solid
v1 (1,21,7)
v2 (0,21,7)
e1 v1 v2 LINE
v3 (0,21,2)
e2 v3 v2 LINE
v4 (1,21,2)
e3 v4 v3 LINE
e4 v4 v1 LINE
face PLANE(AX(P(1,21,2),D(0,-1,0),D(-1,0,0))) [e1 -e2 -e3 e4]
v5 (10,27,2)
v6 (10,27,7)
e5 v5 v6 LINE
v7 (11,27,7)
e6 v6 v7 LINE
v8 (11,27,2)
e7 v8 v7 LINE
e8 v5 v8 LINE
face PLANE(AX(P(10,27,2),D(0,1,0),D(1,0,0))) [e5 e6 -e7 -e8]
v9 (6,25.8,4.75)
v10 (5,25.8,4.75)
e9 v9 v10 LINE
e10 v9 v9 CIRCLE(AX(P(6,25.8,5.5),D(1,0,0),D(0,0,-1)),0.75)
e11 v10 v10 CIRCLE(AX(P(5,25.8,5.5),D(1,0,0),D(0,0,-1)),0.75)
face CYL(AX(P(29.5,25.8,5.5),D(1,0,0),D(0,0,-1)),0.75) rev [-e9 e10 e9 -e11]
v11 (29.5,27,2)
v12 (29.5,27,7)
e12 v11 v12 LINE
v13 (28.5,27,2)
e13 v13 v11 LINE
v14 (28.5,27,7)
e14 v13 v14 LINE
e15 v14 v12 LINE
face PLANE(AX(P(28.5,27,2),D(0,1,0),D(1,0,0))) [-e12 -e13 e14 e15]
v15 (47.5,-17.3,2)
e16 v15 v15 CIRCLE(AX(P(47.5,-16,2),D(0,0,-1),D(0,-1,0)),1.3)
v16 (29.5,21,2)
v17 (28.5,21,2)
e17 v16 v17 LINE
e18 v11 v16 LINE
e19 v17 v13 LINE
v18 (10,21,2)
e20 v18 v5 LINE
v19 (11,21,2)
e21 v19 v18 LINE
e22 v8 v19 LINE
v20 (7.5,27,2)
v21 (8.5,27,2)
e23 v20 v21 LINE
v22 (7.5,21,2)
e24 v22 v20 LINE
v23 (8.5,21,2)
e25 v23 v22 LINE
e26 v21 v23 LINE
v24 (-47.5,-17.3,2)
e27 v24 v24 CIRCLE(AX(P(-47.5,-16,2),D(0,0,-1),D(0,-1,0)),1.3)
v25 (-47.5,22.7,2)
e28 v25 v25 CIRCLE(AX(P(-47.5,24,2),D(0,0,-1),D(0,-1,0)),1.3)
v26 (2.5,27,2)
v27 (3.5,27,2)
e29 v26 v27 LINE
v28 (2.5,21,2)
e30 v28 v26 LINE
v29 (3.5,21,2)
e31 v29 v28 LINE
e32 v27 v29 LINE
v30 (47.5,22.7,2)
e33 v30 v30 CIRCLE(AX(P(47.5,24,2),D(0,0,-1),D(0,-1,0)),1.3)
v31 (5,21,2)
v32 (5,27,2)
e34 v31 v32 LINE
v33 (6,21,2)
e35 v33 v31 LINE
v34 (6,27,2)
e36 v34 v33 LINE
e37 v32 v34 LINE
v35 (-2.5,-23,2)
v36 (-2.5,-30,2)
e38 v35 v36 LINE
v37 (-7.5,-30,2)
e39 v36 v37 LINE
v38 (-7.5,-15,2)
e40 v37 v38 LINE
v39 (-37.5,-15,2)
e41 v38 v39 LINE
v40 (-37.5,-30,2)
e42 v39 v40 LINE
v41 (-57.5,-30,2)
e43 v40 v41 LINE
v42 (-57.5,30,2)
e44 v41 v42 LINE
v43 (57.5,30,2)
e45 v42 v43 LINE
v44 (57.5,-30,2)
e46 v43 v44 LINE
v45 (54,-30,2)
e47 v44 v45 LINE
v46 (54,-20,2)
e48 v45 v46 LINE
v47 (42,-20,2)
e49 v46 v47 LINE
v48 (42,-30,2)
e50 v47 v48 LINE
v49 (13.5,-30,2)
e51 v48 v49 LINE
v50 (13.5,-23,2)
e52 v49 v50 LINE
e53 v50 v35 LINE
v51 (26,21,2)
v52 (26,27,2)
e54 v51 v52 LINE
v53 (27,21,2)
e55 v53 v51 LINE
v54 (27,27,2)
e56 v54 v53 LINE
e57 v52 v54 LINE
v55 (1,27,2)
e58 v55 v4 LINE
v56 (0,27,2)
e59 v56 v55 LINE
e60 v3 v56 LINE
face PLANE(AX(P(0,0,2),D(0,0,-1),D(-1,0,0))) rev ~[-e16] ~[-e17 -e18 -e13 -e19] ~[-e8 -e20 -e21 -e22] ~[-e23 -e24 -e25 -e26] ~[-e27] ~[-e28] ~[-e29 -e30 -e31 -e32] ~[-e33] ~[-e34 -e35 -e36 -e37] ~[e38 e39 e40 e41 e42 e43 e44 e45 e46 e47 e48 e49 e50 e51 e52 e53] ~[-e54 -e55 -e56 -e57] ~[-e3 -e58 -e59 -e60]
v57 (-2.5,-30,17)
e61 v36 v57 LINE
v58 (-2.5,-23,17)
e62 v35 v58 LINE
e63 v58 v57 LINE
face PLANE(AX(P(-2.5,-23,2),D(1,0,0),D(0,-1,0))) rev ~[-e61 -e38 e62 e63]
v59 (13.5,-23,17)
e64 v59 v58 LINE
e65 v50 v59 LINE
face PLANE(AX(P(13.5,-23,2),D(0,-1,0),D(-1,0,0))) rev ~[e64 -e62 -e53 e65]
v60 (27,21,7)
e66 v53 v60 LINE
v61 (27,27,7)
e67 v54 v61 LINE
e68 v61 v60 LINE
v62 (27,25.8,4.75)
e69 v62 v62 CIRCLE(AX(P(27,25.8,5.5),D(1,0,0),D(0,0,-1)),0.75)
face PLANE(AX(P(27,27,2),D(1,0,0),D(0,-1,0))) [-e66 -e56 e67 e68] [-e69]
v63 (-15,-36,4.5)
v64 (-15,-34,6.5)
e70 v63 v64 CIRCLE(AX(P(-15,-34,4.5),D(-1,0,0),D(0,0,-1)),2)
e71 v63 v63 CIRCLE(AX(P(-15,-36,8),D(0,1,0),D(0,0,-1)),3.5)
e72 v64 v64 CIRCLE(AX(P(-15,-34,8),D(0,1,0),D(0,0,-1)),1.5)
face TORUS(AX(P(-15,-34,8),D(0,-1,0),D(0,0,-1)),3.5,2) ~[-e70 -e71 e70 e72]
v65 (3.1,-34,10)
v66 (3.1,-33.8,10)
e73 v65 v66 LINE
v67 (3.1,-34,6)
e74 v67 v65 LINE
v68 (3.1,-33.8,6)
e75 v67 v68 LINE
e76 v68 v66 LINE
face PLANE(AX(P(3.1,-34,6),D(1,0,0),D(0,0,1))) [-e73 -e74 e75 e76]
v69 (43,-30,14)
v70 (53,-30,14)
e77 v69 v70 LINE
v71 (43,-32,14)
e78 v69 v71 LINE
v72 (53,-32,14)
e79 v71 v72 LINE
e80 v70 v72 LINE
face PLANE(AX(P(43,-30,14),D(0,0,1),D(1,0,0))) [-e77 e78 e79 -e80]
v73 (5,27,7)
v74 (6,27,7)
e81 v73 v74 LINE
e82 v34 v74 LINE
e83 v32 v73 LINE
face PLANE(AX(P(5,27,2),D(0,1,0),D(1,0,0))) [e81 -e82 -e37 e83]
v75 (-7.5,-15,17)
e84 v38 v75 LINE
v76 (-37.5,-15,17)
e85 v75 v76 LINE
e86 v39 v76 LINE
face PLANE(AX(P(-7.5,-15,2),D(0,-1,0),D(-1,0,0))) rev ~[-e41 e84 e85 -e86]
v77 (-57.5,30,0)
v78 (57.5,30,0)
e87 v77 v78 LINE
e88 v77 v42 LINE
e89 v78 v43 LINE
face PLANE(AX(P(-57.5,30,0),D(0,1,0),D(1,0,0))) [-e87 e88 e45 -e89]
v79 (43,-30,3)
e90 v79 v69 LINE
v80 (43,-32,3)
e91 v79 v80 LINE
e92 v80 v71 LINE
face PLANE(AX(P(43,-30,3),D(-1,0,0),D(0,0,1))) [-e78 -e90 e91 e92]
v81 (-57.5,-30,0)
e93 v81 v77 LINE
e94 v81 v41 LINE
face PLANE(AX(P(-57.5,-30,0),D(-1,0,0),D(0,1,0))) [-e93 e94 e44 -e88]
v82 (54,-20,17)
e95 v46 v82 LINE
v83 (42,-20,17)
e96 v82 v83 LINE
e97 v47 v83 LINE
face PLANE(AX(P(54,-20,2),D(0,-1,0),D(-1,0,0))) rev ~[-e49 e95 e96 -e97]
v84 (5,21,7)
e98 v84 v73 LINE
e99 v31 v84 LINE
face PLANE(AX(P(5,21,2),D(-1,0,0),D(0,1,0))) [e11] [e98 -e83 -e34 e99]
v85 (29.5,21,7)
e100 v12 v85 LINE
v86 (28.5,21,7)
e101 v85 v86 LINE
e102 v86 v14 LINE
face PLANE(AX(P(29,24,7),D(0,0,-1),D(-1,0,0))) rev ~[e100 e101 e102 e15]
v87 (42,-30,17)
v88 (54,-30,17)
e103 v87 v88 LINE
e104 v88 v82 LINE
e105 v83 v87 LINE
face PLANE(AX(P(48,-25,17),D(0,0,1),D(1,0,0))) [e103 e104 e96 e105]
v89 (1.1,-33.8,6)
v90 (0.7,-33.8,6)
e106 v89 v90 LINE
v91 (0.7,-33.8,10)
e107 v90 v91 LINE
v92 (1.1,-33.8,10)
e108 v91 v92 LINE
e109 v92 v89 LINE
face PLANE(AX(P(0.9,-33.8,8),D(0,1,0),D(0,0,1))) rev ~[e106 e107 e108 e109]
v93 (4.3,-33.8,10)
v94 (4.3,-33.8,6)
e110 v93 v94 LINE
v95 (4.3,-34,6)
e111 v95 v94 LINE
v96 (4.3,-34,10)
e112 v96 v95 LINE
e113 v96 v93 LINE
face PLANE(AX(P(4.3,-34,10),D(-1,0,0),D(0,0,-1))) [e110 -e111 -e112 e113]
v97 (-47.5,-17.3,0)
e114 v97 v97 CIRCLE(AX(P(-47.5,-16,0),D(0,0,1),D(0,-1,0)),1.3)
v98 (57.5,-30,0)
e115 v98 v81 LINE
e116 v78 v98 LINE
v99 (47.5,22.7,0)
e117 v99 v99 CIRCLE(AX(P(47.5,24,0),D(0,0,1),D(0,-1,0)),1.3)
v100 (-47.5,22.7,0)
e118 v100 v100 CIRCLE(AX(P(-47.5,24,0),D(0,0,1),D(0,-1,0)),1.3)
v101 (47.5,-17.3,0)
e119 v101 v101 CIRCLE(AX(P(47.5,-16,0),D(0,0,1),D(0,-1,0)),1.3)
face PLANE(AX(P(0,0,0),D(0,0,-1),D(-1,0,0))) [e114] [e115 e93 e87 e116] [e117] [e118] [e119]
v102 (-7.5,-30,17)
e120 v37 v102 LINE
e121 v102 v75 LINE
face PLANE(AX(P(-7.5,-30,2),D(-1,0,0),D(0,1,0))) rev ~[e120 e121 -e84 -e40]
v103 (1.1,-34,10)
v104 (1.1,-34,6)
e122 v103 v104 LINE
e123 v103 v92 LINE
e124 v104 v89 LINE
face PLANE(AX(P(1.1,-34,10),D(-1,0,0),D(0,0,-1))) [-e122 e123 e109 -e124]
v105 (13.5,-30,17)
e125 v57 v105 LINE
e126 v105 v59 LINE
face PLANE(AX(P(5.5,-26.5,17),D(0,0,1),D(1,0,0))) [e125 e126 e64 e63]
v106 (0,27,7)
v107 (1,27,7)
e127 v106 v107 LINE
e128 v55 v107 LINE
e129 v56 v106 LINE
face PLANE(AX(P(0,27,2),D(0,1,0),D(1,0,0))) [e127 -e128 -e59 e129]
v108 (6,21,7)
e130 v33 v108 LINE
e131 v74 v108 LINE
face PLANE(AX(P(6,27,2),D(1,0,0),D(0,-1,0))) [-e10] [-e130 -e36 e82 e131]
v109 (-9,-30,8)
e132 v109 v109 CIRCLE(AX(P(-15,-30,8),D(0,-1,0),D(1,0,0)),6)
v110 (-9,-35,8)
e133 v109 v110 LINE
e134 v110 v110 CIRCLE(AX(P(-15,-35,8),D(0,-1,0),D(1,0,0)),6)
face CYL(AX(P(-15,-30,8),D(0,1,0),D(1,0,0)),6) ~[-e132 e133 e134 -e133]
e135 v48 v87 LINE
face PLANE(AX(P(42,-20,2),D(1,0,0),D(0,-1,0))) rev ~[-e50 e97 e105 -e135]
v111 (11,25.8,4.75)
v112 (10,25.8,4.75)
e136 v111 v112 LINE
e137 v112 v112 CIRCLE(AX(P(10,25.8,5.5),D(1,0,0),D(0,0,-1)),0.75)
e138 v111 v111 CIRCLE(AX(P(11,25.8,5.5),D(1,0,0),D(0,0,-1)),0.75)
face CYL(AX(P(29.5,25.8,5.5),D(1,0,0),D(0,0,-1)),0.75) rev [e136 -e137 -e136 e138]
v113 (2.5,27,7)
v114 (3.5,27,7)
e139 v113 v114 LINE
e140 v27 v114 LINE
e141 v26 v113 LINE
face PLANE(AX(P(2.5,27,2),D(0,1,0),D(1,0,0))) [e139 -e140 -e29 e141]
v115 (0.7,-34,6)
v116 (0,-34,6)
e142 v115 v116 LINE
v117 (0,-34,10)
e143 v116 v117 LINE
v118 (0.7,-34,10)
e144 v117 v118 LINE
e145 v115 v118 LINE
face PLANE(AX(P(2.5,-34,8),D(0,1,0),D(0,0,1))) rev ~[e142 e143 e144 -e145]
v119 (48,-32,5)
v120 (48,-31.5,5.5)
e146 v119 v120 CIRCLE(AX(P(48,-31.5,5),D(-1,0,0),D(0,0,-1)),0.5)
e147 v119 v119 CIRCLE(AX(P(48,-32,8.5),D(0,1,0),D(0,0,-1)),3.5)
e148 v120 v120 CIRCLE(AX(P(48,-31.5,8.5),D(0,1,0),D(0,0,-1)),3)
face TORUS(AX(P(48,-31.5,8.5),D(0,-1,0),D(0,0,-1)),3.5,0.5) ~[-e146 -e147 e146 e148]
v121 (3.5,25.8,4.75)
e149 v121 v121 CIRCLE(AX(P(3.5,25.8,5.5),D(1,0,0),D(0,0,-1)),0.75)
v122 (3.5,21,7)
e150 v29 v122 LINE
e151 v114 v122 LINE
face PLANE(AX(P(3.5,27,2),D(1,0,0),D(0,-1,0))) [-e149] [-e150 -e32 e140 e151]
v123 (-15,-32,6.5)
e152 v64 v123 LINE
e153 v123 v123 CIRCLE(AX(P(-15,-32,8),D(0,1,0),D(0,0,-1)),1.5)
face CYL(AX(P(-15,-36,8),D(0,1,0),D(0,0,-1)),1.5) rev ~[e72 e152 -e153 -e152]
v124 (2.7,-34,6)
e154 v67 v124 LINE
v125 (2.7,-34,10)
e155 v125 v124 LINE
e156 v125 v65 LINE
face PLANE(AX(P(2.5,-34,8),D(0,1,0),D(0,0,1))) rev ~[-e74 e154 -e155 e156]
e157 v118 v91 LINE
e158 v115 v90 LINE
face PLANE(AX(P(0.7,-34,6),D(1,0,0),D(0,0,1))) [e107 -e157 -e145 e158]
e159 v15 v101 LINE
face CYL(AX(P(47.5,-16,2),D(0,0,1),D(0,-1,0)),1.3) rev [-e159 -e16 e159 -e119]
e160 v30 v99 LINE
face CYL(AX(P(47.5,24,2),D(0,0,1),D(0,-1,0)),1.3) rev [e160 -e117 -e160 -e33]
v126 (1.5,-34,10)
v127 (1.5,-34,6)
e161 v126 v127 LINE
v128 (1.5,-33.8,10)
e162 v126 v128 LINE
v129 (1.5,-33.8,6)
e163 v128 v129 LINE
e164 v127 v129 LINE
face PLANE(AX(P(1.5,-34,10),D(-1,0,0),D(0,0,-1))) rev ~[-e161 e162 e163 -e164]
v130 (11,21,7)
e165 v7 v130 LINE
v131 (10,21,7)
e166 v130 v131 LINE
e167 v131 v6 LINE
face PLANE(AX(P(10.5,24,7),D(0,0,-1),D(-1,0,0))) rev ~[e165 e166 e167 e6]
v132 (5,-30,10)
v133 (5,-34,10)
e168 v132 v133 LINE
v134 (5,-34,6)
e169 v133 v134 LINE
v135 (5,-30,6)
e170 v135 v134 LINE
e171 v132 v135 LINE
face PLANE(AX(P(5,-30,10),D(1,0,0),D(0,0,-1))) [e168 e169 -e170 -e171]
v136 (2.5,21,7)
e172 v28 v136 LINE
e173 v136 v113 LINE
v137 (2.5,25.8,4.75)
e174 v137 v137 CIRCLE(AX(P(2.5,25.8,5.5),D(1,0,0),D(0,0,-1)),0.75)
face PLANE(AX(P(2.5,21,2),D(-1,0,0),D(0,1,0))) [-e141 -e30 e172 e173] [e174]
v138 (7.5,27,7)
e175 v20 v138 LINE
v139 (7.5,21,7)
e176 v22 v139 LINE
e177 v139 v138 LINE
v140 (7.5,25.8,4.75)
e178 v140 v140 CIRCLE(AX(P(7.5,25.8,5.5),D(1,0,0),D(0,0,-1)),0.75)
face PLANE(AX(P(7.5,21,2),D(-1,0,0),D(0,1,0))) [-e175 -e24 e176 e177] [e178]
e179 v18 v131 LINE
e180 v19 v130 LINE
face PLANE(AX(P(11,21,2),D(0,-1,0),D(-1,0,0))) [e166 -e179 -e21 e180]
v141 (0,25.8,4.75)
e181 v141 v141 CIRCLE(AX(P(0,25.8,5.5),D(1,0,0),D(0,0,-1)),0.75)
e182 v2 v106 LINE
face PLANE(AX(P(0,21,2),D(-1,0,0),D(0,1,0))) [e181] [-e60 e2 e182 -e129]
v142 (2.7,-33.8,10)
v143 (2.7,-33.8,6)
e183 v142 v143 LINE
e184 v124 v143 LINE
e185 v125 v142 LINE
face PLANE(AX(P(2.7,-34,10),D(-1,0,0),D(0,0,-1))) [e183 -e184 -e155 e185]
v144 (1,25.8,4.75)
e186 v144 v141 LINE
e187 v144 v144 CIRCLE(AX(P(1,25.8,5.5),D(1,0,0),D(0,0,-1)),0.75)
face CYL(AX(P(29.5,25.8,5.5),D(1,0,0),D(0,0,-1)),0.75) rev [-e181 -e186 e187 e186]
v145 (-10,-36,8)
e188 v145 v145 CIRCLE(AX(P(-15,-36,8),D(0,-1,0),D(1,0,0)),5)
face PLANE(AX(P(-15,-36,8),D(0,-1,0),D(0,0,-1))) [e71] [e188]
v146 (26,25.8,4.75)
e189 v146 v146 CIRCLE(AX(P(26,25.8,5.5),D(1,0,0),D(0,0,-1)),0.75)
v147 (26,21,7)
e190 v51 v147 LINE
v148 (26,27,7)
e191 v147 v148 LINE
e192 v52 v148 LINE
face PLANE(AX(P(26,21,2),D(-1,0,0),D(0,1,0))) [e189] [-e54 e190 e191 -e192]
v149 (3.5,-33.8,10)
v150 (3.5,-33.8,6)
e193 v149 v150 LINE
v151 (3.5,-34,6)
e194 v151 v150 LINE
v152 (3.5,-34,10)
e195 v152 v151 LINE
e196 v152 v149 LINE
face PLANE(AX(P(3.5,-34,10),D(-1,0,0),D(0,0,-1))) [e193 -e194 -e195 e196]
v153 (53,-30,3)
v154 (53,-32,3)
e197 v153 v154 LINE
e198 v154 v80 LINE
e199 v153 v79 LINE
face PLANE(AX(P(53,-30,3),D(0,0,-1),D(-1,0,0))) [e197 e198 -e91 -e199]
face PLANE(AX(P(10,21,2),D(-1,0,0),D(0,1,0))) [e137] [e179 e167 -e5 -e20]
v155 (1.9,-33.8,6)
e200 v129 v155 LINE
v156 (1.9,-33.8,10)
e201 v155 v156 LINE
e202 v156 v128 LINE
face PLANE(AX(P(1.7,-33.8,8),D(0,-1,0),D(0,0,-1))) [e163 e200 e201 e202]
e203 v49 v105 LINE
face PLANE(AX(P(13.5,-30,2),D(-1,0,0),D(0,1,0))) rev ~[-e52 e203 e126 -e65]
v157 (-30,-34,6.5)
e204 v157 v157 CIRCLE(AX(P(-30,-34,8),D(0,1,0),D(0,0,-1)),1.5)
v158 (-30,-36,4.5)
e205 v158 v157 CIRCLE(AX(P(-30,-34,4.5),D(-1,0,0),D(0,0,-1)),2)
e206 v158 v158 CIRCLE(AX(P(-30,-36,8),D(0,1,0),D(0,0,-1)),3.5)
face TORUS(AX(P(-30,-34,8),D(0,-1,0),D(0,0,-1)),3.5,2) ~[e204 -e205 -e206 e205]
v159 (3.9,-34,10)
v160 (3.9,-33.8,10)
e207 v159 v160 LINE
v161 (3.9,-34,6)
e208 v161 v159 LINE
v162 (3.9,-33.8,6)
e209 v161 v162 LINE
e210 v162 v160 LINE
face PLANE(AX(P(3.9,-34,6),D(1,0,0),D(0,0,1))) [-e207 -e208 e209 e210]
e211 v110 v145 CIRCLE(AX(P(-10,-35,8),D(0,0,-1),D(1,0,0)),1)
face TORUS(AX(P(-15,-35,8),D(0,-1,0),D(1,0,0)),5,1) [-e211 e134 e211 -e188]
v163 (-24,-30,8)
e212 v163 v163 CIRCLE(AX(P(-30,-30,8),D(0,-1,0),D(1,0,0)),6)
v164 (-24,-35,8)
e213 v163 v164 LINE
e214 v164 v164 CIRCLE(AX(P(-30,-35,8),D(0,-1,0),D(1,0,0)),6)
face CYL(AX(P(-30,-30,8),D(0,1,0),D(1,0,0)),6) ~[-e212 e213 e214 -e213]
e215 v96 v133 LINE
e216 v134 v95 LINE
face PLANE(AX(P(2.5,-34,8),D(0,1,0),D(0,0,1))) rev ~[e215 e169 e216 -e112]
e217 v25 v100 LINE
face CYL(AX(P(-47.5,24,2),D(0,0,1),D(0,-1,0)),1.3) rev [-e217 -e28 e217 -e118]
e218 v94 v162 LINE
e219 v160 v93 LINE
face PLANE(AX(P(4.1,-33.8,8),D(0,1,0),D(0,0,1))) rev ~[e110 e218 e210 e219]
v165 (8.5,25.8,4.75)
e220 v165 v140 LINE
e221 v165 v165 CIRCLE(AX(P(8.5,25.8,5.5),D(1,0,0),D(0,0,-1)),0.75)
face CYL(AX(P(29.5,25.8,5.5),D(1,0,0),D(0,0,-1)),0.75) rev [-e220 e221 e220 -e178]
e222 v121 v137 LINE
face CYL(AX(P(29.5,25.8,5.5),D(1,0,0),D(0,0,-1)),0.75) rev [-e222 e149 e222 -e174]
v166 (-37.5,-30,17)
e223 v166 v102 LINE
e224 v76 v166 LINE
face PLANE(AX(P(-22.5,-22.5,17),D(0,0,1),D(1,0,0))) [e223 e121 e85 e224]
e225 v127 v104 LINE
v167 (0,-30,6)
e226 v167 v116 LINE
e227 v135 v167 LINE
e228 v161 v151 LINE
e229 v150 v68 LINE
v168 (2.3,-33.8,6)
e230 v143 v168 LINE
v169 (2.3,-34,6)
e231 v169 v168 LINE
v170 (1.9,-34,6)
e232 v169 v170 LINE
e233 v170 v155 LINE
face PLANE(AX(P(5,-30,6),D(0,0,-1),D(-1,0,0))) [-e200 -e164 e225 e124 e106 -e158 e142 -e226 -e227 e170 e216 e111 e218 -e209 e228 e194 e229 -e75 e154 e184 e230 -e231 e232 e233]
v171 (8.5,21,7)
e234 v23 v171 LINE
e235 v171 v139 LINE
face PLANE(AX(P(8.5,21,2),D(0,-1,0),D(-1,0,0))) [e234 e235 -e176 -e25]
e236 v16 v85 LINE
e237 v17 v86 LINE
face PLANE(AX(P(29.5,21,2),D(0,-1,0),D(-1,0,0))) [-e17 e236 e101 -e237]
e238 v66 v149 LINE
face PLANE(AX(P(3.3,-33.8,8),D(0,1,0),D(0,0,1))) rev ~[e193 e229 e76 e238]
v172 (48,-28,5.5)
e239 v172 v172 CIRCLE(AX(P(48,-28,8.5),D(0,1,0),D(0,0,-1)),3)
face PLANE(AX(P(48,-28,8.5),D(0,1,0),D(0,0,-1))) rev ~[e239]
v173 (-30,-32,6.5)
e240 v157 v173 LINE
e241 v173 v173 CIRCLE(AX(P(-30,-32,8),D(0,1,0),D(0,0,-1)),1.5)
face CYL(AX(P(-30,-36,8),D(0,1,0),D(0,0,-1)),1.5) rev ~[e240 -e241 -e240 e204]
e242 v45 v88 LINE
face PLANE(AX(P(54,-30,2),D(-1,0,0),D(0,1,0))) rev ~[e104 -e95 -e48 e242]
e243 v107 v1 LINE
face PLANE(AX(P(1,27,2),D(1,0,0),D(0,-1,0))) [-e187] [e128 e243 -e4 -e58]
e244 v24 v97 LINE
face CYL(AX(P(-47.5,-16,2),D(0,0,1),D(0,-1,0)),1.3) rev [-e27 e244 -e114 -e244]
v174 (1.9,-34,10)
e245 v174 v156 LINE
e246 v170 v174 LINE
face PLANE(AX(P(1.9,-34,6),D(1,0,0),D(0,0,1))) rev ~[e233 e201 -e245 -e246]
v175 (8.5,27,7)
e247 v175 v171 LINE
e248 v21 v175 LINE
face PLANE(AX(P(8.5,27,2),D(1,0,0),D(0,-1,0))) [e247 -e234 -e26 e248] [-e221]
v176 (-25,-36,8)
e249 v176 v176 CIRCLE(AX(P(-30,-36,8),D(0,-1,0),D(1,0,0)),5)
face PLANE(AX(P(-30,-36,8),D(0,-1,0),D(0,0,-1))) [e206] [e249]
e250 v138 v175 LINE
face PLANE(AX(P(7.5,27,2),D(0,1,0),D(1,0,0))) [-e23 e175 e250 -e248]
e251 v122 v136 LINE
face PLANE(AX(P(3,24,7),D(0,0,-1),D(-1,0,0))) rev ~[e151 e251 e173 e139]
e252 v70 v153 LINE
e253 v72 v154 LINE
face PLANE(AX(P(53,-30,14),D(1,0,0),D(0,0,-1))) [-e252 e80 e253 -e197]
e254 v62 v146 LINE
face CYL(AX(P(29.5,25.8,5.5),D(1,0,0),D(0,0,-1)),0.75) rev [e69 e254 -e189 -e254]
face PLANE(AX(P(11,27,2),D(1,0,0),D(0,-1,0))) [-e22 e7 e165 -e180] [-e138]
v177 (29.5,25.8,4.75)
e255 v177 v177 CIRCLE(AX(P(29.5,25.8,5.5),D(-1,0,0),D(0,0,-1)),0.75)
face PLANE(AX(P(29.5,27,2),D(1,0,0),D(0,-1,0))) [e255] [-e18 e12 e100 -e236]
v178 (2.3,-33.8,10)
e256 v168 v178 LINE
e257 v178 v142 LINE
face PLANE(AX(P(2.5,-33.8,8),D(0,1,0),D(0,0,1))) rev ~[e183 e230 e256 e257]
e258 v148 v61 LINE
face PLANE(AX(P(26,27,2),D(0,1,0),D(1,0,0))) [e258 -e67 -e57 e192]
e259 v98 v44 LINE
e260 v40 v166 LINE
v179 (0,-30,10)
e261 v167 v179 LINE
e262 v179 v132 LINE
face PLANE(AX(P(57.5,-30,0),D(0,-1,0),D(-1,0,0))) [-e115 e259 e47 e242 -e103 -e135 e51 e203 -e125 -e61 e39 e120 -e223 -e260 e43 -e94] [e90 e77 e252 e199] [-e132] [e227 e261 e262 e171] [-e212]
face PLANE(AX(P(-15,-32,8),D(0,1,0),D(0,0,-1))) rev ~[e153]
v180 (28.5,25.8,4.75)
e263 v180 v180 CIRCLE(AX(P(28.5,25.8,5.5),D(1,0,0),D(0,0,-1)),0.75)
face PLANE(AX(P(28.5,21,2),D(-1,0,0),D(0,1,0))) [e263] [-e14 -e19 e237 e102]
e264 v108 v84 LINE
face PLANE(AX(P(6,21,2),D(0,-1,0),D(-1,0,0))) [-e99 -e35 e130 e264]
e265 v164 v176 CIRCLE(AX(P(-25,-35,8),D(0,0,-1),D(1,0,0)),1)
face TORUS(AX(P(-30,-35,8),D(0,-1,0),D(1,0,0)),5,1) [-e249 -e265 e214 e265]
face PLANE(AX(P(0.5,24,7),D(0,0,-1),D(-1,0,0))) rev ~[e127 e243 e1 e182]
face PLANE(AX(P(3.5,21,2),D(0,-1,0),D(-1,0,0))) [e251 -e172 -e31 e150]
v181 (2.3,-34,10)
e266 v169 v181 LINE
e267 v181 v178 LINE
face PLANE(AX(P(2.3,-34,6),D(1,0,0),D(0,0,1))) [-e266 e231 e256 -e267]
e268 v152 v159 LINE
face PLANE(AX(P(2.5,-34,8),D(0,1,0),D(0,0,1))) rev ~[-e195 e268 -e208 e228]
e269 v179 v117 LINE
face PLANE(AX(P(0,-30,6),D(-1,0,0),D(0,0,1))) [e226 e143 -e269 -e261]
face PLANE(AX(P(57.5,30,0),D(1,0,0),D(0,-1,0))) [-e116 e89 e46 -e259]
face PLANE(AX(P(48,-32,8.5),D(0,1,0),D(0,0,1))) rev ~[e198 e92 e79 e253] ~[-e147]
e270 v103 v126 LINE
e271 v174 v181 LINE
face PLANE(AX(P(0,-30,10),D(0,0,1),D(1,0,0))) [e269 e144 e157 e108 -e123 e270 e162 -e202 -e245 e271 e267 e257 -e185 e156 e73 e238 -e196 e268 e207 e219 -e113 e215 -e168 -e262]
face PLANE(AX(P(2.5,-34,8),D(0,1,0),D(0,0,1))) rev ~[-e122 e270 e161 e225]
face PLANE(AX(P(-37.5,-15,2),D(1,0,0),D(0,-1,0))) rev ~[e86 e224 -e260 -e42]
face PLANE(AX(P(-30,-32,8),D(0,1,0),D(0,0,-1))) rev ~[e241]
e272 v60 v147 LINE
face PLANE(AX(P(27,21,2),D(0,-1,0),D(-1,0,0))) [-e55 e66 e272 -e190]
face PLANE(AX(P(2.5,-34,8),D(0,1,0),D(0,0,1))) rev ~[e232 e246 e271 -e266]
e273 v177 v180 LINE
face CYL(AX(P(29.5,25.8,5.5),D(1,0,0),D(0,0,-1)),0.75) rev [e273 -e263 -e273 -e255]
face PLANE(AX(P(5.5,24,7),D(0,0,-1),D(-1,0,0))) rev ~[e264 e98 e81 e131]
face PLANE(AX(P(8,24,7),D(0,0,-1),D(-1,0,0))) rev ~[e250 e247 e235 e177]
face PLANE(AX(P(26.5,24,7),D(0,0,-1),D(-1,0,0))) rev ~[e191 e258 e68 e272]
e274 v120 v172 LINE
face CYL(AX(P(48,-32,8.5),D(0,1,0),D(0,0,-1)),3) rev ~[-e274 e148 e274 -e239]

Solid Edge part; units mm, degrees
sketch "Sketch1" plane through (0, 0, 0) normal (0, 0, 1) x (1, 0, 0)
  line L0 (57.5, -30) -> (-57.5, -30)
  line L1 (-57.5, -30) -> (-57.5, 30)
  line L2 (-57.5, 30) -> (57.5, 30)
  line L3 (57.5, 30) -> (57.5, -30)
  dimension "D1" = 115
  dimension "D2" = 60
extrude "Protrusion1" add sketch "Sketch1" along normal blind 2
sketch "Sketch2" plane through (0, 0, 2) normal (0, 0, 1) x (1, 0, 0)
  line L0 (-2.5, -30) -> (13.5, -30)
  line L1 (13.5, -30) -> (13.5, -23)
  line L2 (13.5, -23) -> (-2.5, -23)
  line L3 (-2.5, -23) -> (-2.5, -30)
  line L4 (42, -30) -> (54, -30)
  line L5 (54, -30) -> (54, -20)
  line L6 (54, -20) -> (42, -20)
  line L7 (42, -20) -> (42, -30)
  line L8 (-37.5, -30) -> (-7.5, -30)
  line L9 (-7.5, -30) -> (-7.5, -15)
  line L10 (-7.5, -15) -> (-37.5, -15)
  line L11 (-37.5, -15) -> (-37.5, -30)
  dimension "D1" = 20
  dimension "D2" = 15
  dimension "D3" = 30
  dimension "D4" = 5
  dimension "D5" = 7
  dimension "D6" = 16
  dimension "D7" = 28.5
  dimension "D8" = 12
  dimension "D9" = 10
extrude "Inputs" add sketch "Sketch2" along normal blind 15
sketch "Sketch3" plane through (0, -30, 8.5) normal (0, -1, 0) x (1, 0, 0)
  circle A0 centre (-15, -0.5) radius 6
  circle A1 centre (-30, -0.5) radius 6
  dimension "D1" = 15
  dimension "D2" = 7.5
  dimension "D3" = 8
extrude "Input_1" add sketch "Sketch3" along normal blind 6
sketch "Sketch4" plane through (0, -30, 8.5) normal (0, -1, 0) x (1, 0, 0)
  line L0 (0, 1.5) -> (5, 1.5)
  line L1 (5, 1.5) -> (5, -2.5)
  line L2 (5, -2.5) -> (0, -2.5)
  line L3 (0, -2.5) -> (0, 1.5)
  dimension "D1" = 4
  dimension "D2" = 5
  dimension "D3" = 15
extrude "Input_2" add sketch "Sketch4" along normal blind 4
sketch "Sketch5" plane through (-0.5, -34, 10.38) normal (0, -1, 0) x (1, 0, 0)
  line L0 (2.8, -0.38) -> (3.2, -0.38)
  line L1 (3.2, -0.38) -> (3.2, -4.38)
  line L2 (3.2, -4.38) -> (2.8, -4.38)
  line L3 (2.8, -4.38) -> (2.8, -0.38)
  line L4 (3.6, -0.38) -> (4, -0.38)
  line L5 (4, -0.38) -> (4, -4.38)
  line L6 (4, -4.38) -> (3.6, -4.38)
  line L7 (3.6, -4.38) -> (3.6, -0.38)
  line L8 (2, -0.38) -> (2, -4.38)
  line L9 (2, -4.38) -> (2.4, -4.38)
  line L10 (2.4, -4.38) -> (2.4, -0.38)
  line L11 (2.4, -0.38) -> (2, -0.38)
  line L12 (1.2, -0.38) -> (1.6, -0.38)
  line L13 (1.6, -0.38) -> (1.6, -4.38)
  line L14 (1.6, -4.38) -> (1.2, -4.38)
  line L15 (1.2, -4.38) -> (1.2, -0.38)
  line L16 (4.4, -0.38) -> (4.8, -0.38)
  line L17 (4.8, -0.38) -> (4.8, -4.38)
  line L18 (4.8, -4.38) -> (4.4, -4.38)
  line L19 (4.4, -4.38) -> (4.4, -0.38)
  dimension "D1" = 0.4
  dimension "D2" = 0.4
  dimension "D3" = 0.4
  dimension "D4" = 0.4
  dimension "D5" = 0.4
extrude "Friction" cut sketch "Sketch5" against normal blind 0.2
sketch "Sketch6" plane through (0, -30, 8.5) normal (0, -1, 0) x (1, 0, 0)
  line L0 (43, 5.5) -> (53, 5.5)
  line L1 (53, 5.5) -> (53, -5.5)
  line L2 (53, -5.5) -> (43, -5.5)
  line L3 (43, -5.5) -> (43, 5.5)
  dimension "D1" = 10
  dimension "D2" = 11
  dimension "D3" = 3
extrude "Input_3" add sketch "Sketch6" along normal blind 2
hole "Hole___Input_3" at (48, -32, 8.5) direction (0, 1, 0) diameter 6 depth 4
hole "Hole1" at (-30, -36, 8) direction (0, 1, 0) diameter 3 depth 4
hole "Hole2" at (-15, -36, 8) direction (0, 1, 0) diameter 3 depth 4
fillet "Round___Input_3" radius 0.5 1 edges at (48, -32, 11.5)
hole "Attachment" at (-47.5, 24, 2) direction (0, 0, -1) diameter 2.6 end up to next
pattern_linear "Pattern1" count 2 spacing 95 along (1, 0, 0) count 2 spacing 40 along (0, -1, 0) of "Attachment"
fillet "Round___Input_1" radius 1 2 edges at (-36, -36, 8) (-21, -36, 8)
fillet "Round_2" radius 2 2 edges at (-30, -36, 9.5) (-15, -36, 9.5)
sketch "Sketch7" plane through (0, 0, 2) normal (0, 0, 1) x (1, 0, 0)
  line L0 (3.5, 21) -> (2.5, 21)
  line L1 (2.5, 21) -> (2.5, 27)
  line L2 (2.5, 27) -> (3.5, 27)
  line L3 (3.5, 27) -> (3.5, 21)
  line L4 (6, 21) -> (5, 21)
  line L5 (5, 21) -> (5, 27)
  line L6 (5, 27) -> (6, 27)
  line L7 (6, 27) -> (6, 21)
  line L8 (8.5, 21) -> (7.5, 21)
  line L9 (7.5, 21) -> (7.5, 27)
  line L10 (7.5, 27) -> (8.5, 27)
  line L11 (8.5, 27) -> (8.5, 21)
  line L12 (11, 21) -> (10, 21)
  line L13 (10, 21) -> (10, 27)
  line L14 (10, 27) -> (11, 27)
  line L15 (11, 27) -> (11, 21)
  line L16 (1, 21) -> (0, 21)
  line L17 (0, 21) -> (0, 27)
  line L18 (0, 27) -> (1, 27)
  line L19 (1, 27) -> (1, 21)
  line L20 (29.5, 21) -> (28.5, 21)
  line L21 (28.5, 21) -> (28.5, 27)
  line L22 (28.5, 27) -> (29.5, 27)
  line L23 (29.5, 27) -> (29.5, 21)
  line L24 (27, 21) -> (26, 21)
  line L25 (26, 21) -> (26, 27)
  line L26 (26, 27) -> (27, 27)
  line L27 (27, 27) -> (27, 21)
  dimension "D1" = 1
  dimension "D2" = 6
  dimension "D3" = 1.5
  dimension "D4" = 1.5
  dimension "D5" = 1.5
  dimension "D6" = 1.5
  dimension "D7" = 3
  dimension "D8" = 1
  dimension "D9" = 6
  dimension "D10" = 1.5
  dimension "D11" = 3
  dimension "D12" = 15
extrude "Electrics" add sketch "Sketch7" along normal blind 5
hole "Wire_holes" at (29.5, 25.8, 5.5) direction (-1, 0, 0) diameter 1.5 end through all
properties material "ABS Plastic, high impact"
